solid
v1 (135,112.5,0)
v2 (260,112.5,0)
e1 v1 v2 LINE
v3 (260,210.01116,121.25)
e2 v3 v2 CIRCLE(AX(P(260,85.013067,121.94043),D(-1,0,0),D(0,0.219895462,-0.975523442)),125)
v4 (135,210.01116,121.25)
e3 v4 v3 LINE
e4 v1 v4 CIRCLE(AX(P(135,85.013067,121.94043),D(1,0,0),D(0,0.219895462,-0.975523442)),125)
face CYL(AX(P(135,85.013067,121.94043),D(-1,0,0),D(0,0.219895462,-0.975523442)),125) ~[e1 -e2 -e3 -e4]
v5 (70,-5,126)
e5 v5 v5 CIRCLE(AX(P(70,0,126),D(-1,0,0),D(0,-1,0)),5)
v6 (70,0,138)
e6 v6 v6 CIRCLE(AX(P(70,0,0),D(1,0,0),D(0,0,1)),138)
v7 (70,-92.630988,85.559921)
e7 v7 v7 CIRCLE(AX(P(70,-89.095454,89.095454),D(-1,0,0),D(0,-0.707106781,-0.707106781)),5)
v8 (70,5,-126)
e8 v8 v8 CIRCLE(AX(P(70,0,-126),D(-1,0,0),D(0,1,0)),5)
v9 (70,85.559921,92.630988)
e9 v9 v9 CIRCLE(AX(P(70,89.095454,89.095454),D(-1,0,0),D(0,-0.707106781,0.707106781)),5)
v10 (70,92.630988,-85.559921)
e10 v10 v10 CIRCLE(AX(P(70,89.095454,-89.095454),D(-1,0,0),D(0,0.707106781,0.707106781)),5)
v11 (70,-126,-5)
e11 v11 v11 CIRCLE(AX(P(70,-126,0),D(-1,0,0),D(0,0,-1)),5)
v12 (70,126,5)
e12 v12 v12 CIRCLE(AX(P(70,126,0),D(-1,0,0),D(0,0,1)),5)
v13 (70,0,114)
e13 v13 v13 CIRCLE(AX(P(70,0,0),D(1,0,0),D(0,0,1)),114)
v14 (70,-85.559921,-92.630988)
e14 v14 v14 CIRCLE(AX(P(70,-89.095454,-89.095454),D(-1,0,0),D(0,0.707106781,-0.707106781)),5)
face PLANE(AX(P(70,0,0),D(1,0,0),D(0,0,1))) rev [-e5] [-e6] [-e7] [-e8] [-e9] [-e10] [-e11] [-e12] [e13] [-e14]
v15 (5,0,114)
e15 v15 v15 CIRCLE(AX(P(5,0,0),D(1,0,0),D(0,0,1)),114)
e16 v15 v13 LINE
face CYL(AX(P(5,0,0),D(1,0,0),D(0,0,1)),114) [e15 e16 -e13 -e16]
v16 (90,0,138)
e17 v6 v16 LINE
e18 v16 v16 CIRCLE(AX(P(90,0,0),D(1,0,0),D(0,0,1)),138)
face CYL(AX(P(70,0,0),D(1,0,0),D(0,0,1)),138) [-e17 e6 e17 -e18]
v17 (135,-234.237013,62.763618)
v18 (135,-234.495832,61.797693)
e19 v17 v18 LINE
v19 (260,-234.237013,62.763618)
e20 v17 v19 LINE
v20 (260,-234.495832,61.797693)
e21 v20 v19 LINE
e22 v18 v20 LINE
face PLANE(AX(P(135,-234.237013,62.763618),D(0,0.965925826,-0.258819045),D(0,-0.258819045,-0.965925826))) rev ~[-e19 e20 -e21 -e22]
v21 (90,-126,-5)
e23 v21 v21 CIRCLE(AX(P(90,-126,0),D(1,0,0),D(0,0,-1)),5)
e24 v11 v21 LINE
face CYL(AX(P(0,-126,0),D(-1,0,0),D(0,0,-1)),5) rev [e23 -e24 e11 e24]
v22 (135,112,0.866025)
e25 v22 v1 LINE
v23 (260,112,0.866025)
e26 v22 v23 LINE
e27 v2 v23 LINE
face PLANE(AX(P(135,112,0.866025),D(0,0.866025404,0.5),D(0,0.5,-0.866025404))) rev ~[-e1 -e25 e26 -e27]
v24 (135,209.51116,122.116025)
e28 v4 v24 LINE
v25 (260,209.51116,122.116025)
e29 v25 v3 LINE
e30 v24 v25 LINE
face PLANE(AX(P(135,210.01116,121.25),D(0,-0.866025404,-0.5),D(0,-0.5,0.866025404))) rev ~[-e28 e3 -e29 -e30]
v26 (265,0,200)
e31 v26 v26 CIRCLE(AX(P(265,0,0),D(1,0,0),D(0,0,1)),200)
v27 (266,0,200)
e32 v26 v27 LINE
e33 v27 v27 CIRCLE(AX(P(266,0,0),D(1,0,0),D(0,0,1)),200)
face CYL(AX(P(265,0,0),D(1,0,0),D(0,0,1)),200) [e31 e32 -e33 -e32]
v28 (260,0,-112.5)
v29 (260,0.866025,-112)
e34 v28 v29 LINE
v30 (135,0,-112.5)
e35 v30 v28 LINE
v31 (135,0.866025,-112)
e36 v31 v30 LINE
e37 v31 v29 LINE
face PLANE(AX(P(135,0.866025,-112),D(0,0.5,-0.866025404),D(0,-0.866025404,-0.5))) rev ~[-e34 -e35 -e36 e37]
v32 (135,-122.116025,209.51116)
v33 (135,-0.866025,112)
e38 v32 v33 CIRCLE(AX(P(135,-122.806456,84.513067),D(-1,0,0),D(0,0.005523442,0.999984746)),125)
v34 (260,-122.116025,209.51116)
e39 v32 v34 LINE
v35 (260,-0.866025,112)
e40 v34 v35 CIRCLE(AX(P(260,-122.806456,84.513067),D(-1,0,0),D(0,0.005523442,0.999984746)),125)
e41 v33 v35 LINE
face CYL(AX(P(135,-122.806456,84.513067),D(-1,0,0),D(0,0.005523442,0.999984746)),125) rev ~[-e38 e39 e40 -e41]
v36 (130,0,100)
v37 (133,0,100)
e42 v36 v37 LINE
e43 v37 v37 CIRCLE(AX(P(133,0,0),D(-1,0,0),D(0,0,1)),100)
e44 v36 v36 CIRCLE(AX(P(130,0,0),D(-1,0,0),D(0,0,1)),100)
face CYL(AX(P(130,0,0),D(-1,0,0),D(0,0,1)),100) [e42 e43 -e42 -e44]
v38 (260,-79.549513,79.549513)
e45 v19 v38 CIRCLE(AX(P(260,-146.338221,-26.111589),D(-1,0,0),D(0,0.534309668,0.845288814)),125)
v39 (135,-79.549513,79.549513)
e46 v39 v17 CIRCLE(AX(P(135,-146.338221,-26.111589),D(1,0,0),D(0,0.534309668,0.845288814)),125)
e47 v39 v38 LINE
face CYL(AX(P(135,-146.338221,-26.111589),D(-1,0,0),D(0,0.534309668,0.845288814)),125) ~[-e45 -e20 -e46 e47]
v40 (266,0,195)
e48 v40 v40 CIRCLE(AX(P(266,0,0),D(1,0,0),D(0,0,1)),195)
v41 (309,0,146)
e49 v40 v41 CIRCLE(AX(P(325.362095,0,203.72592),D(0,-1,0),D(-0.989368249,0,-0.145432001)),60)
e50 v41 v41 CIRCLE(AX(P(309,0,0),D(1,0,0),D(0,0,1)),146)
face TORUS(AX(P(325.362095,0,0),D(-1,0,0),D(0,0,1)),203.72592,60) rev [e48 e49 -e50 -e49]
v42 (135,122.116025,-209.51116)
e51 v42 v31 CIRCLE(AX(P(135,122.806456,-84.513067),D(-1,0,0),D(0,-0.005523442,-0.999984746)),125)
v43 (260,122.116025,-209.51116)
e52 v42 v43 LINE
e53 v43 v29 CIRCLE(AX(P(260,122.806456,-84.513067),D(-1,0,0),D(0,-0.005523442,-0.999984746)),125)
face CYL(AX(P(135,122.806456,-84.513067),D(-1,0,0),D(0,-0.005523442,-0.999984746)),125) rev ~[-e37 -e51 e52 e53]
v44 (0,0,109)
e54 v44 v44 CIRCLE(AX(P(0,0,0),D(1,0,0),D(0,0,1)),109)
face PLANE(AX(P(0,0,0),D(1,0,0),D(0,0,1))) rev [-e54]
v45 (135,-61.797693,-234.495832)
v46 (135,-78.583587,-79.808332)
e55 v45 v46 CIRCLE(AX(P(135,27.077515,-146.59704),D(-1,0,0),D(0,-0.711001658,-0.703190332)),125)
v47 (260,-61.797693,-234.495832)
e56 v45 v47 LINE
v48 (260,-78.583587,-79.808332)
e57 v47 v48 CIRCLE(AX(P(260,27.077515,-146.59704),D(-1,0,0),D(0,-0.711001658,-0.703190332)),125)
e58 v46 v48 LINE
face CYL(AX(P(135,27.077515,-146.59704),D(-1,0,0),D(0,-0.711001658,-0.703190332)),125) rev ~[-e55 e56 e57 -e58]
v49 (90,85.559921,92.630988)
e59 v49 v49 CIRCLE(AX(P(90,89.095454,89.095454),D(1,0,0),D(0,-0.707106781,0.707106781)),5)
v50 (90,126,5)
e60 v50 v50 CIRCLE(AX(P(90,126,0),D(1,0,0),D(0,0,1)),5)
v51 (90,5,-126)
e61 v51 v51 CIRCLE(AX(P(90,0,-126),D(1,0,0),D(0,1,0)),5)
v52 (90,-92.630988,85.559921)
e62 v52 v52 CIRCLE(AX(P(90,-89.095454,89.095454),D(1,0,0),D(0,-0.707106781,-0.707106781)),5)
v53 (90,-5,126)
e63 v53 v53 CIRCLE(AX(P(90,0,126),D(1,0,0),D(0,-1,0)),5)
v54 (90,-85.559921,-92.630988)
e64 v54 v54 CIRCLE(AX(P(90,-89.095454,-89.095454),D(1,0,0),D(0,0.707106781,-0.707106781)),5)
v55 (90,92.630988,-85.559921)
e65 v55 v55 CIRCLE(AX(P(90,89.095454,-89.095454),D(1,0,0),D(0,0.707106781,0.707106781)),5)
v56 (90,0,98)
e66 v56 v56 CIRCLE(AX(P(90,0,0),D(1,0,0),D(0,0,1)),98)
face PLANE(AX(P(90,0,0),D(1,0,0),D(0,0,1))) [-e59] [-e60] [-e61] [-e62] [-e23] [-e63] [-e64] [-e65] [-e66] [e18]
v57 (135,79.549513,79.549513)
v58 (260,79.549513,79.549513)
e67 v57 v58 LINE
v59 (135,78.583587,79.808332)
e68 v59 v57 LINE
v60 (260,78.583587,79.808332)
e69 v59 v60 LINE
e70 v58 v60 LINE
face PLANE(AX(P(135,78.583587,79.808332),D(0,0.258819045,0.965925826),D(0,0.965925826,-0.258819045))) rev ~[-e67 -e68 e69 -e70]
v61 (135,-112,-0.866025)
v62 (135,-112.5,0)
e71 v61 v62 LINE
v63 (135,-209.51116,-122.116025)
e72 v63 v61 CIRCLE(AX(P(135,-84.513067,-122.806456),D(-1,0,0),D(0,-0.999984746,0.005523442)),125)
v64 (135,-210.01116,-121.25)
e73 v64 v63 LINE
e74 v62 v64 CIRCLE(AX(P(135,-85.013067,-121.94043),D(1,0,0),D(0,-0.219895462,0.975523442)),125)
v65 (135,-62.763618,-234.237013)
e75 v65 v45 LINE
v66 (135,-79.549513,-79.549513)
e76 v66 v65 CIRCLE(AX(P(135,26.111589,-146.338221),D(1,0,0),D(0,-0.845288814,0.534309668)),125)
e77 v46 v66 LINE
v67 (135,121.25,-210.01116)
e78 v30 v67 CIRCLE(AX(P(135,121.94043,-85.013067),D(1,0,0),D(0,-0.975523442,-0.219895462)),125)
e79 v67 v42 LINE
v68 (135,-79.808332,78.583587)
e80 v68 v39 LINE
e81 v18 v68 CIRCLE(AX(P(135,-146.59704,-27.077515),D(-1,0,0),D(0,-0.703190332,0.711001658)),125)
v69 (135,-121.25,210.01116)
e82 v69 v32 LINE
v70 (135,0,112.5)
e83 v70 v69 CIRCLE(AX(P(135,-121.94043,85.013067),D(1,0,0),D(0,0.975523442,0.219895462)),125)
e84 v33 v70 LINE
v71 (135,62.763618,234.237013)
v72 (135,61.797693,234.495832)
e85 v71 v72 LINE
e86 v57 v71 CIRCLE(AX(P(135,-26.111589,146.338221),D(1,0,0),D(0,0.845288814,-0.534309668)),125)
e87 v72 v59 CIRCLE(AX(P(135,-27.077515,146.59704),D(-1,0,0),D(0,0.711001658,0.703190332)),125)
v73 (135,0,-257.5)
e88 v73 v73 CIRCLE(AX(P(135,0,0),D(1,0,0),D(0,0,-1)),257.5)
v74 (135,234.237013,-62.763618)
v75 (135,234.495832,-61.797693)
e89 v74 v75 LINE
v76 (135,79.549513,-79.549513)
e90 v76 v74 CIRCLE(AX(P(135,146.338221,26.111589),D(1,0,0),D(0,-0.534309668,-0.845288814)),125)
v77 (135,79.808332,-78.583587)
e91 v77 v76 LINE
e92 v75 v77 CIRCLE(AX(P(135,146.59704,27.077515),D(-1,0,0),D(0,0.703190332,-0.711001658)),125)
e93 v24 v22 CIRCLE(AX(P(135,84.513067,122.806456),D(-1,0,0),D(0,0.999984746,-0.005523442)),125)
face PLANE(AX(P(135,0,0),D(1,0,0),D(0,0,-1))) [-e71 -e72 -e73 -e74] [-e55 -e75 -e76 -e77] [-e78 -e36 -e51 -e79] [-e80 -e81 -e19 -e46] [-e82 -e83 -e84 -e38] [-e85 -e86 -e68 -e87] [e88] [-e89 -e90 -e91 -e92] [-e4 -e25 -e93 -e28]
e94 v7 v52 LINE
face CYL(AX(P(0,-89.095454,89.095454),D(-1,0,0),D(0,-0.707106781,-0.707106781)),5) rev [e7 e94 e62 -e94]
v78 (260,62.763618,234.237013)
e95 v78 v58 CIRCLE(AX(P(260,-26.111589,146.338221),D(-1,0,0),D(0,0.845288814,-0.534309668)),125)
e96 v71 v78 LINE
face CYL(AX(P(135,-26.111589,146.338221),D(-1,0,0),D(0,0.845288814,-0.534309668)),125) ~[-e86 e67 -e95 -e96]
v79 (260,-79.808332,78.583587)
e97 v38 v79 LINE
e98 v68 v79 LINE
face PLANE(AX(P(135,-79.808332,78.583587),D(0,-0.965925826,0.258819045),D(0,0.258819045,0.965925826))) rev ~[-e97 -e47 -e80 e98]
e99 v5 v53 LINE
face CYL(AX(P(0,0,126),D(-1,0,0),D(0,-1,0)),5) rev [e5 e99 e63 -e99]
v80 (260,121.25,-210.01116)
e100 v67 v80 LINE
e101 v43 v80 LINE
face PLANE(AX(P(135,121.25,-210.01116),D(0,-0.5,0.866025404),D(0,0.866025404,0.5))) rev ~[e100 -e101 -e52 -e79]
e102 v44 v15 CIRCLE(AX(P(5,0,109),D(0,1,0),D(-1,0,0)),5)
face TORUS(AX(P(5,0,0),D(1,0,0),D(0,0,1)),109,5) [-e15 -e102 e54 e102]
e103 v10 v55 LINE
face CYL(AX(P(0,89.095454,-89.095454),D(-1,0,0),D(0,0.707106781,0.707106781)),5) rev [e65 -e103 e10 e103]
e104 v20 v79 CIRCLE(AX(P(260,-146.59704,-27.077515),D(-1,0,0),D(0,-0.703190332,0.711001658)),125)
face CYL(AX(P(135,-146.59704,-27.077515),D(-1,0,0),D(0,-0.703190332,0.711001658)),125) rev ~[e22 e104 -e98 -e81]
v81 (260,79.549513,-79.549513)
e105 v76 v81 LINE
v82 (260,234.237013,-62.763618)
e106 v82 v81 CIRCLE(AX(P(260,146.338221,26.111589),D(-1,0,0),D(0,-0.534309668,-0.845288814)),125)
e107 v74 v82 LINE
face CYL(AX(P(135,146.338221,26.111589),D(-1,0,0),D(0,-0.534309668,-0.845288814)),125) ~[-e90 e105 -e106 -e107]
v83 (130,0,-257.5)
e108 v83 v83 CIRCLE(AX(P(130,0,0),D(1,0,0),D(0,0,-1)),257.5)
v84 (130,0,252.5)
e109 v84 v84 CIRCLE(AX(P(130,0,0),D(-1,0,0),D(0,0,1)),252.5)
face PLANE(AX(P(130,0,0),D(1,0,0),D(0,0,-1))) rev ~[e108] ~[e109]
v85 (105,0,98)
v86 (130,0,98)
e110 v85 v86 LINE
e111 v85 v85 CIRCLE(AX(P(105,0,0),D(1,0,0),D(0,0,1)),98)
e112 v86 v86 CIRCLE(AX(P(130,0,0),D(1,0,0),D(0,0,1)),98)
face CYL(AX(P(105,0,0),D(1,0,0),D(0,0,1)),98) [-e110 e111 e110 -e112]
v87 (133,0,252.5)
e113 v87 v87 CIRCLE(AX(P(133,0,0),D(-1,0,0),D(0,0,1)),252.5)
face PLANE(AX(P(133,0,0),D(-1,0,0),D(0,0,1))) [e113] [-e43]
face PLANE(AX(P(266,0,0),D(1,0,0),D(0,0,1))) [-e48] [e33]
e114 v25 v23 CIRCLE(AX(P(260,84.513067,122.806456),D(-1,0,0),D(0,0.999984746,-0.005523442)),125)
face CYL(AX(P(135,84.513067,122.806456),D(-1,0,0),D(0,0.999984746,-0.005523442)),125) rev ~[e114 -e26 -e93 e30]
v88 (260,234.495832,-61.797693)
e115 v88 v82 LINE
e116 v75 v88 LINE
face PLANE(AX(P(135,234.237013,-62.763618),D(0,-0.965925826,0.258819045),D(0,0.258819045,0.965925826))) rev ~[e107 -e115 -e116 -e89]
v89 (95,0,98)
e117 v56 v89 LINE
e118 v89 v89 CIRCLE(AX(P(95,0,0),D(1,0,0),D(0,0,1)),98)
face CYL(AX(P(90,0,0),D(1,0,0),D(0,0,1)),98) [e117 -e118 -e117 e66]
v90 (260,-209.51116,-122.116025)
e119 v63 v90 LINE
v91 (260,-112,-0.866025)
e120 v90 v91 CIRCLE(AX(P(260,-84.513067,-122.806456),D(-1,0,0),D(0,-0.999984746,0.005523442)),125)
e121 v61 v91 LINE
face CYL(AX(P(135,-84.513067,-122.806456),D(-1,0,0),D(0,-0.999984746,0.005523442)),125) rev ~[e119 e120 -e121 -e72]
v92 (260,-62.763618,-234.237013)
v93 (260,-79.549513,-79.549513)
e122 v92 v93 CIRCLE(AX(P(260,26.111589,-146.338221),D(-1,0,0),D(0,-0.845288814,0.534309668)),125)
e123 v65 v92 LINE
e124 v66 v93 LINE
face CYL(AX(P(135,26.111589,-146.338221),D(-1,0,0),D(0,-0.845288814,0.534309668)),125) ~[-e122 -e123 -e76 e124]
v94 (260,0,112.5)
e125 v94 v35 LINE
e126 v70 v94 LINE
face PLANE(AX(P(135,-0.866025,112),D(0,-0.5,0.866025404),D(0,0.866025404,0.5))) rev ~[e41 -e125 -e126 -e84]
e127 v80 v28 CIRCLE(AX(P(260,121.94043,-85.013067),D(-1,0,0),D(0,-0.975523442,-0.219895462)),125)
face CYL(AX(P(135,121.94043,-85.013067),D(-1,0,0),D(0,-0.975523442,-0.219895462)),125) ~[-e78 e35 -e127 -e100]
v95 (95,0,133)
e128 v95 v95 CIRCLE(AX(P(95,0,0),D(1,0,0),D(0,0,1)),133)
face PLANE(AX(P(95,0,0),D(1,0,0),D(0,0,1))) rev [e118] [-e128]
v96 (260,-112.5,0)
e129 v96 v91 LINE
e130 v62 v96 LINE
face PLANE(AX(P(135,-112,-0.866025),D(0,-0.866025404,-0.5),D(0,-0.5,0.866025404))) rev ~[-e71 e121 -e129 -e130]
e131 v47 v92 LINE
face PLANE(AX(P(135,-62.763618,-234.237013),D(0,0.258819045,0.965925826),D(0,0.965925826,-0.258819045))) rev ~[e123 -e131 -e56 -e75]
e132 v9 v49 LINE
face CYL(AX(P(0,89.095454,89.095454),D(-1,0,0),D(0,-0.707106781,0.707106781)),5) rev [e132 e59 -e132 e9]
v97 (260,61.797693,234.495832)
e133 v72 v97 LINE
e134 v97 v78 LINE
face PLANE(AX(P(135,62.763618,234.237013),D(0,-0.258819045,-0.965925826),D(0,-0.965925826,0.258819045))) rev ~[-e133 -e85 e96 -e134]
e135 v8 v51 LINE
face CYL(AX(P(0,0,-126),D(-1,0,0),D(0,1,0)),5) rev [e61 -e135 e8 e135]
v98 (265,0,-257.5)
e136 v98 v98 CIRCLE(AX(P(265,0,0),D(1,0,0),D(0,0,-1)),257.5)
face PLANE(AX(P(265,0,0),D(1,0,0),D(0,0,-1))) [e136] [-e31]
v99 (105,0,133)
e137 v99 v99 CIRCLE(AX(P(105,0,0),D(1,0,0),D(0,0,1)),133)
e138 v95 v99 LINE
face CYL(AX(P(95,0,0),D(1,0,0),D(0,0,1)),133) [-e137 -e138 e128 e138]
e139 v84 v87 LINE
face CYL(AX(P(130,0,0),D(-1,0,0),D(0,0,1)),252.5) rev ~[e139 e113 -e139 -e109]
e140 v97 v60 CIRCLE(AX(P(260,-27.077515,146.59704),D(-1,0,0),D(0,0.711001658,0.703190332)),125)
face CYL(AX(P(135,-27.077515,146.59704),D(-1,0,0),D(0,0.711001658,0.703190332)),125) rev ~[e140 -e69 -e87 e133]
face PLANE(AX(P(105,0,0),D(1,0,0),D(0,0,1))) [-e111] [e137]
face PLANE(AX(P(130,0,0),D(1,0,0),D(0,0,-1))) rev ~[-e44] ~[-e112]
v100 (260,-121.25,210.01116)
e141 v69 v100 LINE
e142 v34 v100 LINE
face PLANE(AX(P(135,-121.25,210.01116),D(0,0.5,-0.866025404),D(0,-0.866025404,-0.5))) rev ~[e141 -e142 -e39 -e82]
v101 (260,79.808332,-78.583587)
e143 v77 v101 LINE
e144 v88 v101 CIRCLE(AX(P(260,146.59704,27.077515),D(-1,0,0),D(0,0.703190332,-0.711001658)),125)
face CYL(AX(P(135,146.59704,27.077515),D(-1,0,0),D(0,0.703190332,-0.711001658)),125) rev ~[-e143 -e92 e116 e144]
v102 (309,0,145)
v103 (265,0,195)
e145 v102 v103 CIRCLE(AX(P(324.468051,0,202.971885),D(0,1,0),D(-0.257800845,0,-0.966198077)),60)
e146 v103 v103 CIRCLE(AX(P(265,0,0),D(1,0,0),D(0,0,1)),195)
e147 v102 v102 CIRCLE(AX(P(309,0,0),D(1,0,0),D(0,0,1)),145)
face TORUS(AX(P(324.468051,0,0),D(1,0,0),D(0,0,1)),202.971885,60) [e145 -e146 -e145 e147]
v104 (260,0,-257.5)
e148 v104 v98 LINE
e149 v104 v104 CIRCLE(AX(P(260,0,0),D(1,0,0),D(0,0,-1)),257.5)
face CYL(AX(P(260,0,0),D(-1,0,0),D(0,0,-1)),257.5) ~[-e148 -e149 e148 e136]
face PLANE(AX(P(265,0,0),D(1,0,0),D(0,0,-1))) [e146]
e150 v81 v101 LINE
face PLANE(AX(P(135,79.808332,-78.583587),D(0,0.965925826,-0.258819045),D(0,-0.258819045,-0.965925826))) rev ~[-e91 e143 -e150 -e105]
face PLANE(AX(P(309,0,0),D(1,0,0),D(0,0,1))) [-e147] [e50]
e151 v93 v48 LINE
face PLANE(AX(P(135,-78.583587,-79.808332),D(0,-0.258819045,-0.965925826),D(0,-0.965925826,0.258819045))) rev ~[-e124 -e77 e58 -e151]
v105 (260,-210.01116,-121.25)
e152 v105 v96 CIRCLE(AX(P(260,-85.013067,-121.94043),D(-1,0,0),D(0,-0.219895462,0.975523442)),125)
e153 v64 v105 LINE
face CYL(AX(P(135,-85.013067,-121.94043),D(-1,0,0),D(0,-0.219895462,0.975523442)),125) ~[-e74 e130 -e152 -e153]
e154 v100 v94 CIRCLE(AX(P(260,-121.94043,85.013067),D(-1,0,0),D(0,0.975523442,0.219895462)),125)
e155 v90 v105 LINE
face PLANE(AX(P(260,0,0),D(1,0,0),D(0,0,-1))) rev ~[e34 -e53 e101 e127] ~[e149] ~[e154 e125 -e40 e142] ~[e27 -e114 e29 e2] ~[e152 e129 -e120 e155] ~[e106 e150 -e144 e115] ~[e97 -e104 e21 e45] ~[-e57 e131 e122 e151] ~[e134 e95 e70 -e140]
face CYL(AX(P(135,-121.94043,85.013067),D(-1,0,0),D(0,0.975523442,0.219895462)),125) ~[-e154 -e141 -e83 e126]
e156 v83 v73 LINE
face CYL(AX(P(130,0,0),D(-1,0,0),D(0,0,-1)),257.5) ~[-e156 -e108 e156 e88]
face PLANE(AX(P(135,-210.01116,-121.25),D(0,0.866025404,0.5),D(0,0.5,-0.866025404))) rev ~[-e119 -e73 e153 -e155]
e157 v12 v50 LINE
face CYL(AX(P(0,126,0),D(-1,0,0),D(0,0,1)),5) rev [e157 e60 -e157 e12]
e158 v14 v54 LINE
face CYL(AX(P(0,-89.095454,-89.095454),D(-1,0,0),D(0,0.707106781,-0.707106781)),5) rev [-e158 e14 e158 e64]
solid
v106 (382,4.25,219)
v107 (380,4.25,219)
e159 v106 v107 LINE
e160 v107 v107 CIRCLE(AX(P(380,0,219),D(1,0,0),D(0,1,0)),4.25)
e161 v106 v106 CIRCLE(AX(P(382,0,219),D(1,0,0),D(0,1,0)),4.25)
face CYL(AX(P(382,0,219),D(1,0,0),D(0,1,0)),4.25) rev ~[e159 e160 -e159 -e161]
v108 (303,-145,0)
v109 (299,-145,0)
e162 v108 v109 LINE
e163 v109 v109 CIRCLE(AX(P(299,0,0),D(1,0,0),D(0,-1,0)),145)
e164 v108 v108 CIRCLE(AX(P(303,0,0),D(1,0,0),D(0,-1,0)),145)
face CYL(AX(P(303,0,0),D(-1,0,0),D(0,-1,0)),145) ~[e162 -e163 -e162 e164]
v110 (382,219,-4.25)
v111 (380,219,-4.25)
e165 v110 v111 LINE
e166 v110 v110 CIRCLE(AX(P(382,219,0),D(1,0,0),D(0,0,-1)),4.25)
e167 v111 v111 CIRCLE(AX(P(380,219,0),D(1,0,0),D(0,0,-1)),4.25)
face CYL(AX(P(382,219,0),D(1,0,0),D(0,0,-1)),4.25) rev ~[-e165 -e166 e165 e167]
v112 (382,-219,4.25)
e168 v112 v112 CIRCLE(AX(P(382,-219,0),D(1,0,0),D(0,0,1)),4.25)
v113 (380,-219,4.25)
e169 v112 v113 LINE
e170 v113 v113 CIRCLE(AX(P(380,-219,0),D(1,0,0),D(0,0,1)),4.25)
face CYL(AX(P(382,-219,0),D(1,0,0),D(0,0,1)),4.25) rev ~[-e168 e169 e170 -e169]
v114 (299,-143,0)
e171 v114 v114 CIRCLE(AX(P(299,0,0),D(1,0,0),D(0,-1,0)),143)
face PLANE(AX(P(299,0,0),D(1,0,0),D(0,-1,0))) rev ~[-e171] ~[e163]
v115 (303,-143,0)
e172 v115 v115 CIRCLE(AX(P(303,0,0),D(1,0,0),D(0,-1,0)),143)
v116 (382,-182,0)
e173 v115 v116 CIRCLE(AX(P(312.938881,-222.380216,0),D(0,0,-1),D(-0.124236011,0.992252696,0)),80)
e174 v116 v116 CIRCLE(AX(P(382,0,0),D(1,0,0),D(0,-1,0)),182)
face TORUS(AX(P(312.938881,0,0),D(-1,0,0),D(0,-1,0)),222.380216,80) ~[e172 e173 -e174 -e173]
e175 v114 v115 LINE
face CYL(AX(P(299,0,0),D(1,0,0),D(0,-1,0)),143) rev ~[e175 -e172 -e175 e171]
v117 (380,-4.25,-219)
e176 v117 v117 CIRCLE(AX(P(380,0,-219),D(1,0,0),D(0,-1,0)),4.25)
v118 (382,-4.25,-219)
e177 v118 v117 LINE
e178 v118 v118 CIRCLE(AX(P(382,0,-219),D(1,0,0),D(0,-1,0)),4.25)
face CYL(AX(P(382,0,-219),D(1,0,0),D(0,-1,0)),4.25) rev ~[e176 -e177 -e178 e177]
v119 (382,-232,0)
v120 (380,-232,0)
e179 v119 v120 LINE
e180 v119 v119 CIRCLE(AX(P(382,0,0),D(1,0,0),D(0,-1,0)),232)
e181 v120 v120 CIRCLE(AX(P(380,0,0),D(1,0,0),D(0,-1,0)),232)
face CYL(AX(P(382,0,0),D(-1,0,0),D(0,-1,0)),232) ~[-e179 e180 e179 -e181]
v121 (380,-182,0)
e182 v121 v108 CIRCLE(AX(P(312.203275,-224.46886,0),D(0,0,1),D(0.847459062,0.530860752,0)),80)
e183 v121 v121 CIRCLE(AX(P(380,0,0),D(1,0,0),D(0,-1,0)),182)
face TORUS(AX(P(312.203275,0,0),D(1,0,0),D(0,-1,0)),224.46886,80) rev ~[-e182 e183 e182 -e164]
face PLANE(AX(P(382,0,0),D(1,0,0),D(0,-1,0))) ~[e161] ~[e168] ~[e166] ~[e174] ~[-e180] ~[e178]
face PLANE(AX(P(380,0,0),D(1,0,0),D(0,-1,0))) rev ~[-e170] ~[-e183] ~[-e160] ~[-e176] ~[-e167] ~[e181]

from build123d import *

# Parameters (mm, degrees)
SKETCH2_R         = 257.5
EXTRUDE1_DEPTH    = 5
SKETCH9_R         = 252.5
SKETCH9_R_2       = 100
EXTRUDE7_DEPTH    = 3
SKETCH3_R         = 257.5
EXTRUDE2_DEPTH    = 5
EXTRUDE3_DEPTH    = 130
CIRPATTERN1_COUNT = 8
SKETCH7_R         = 4.25
EXTRUDE5_DEPTH    = 5
CIRPATTERN2_COUNT = 4
SKETCH8_R         = 5
EXTRUDE6_DEPTH    = 90
CIRPATTERN3_COUNT = 8


with BuildPart() as part:
    # Sketch1 → Revolve1 (revolve)
    with BuildSketch(Plane.XY, mode=Mode.PRIVATE) as revolve1_sk:
        with BuildLine():
            Line((0, 0), (0, 109))
            ThreePointArc((0, 109), (1.464466094, 112.535533906), (5, 114))
            Line((5, 114), (70, 114))
            Line((70, 114), (70, 138))
            Line((70, 138), (90, 138))
            Line((90, 138), (90, 98))
            Line((90, 98), (95, 98))
            Line((95, 98), (95, 133))
            Line((95, 133), (105, 133))
            Line((105, 133), (105, 98))
            Line((105, 98), (130, 98))
            Line((130, 98), (130, 0))
            Line((130, 0), (0, 0))
        make_face()
    revolve(revolve1_sk.sketch.rotate(Axis((0, 0, 0), (1, 0, 0)), 90), axis=Axis((0, 0, 0), (1, 0, 0)))

    # Sketch2 → Extrude1 (add)
    with BuildSketch(Plane(origin=(130, 0, 0), x_dir=(0, 0, -1), z_dir=(1, 0, 0))):
        Circle(SKETCH2_R)
    extrude(amount=EXTRUDE1_DEPTH)

    # Sketch9 → Extrude7 (cut)
    with BuildSketch(Plane.ZY.offset(-130)):
        Circle(SKETCH9_R)
        Circle(SKETCH9_R_2, mode=Mode.SUBTRACT)
    extrude(amount=-EXTRUDE7_DEPTH, mode=Mode.SUBTRACT)



with BuildPart() as body_2:
    # Sketch3 → Extrude2 (new body)
    with BuildSketch(Plane(origin=(260, 0, 0), x_dir=(0, 0, -1), z_dir=(1, 0, 0))):
        Circle(SKETCH3_R)
    extrude(amount=EXTRUDE2_DEPTH)


with BuildPart() as part_1:
    add(part.part)

    add(body_2.part)  # Extrude3 merges body 2
    # Sketch4 → Extrude3 (add)
    with BuildSketch(Plane(origin=(135, 0, 0), x_dir=(0, 0, -1), z_dir=(1, 0, 0))):
        with BuildLine():
            Line((-121.25, 210.011160418), (-122.116025404, 209.511160418))
            ThreePointArc((-122.116025404, 209.511160418), (-44.469436379, 181.921031018), (-0.866025404, 112))
            Line((-0.866025404, 112), (0, 112.5))
            ThreePointArc((0, 112.5), (-43.603410976, 182.421031018), (-121.25, 210.011160418))
        make_face()
    extrude3 = extrude(amount=EXTRUDE3_DEPTH)

    # CirPattern1: Extrude3 ×8 about axis
    cirpattern1_axis = Axis((0, 0, 0), (1, 0, 0))
    for i in range(1, CIRPATTERN1_COUNT):
        add(extrude3.rotate(cirpattern1_axis, i * 360 / CIRPATTERN1_COUNT))

    # Sketch5 → Revolve2 (revolve)
    with BuildSketch(Plane.XY, mode=Mode.PRIVATE) as revolve2_sk:
        with BuildLine():
            Line((265, 200), (266, 200))
            Line((266, 200), (266, 195))
            ThreePointArc((266, 195), (280.264553623, 164.150526649), (309, 146))
            Line((309, 146), (309, 145))
            ThreePointArc((309, 145), (279.425239697, 163.334210933), (265, 195))
            Line((265, 195), (265, 200))
        make_face()
    revolve(revolve2_sk.sketch.rotate(Axis((0, 0, 0), (1, 0, 0)), 90), axis=Axis((0, 0, 0), (1, 0, 0)))

    # Sketch8 → Extrude6 (cut)
    with BuildSketch(Plane(origin=(0, 0, 0), x_dir=(0, 0, -1), z_dir=(1, 0, 0))):
        with Locations(Location((0, 126, 0), (0, 0, 180))):
            Circle(SKETCH8_R)
    extrude6 = extrude(amount=EXTRUDE6_DEPTH, mode=Mode.SUBTRACT)

    # CirPattern3: Extrude6 ×8 about axis
    cirpattern3_axis = Axis((0, 0, 0), (1, 0, 0))
    for i in range(1, CIRPATTERN3_COUNT):
        add(extrude6.rotate(cirpattern3_axis, i * 360 / CIRPATTERN3_COUNT), mode=Mode.SUBTRACT)


with BuildPart() as body_2_2:
    # Sketch6 → Revolve3 (revolve)
    with BuildSketch(Plane.XY, mode=Mode.PRIVATE) as revolve3_sk:
        with BuildLine():
            Line((382, 232), (380, 232))
            Line((380, 232), (380, 182))
            ThreePointArc((380, 182), (346.85220133, 152.361635071), (303, 145))
            Line((303, 145), (299, 145))
            Line((299, 145), (299, 143))
            Line((299, 143), (303, 143))
            ThreePointArc((303, 143), (348.352293074, 150.645355054), (382, 182))
            Line((382, 182), (382, 232))
        make_face()
    revolve(revolve3_sk.sketch.rotate(Axis((0, 0, 0), (1, 0, 0)), 180), axis=Axis((0, 0, 0), (1, 0, 0)))

    # Sketch7 → Extrude5 (cut)
    with BuildSketch(Plane(origin=(382, 0, 0), x_dir=(0, 0, -1), z_dir=(1, 0, 0))):
        with Locations((0, 219)):
            Circle(SKETCH7_R)
    extrude5 = extrude(amount=-EXTRUDE5_DEPTH, mode=Mode.SUBTRACT)

    # CirPattern2: Extrude5 ×4 about axis
    cirpattern2_axis = Axis((0, 0, 0), (1, 0, 0))
    for i in range(1, CIRPATTERN2_COUNT):
        add(extrude5.rotate(cirpattern2_axis, i * 360 / CIRPATTERN2_COUNT), mode=Mode.SUBTRACT)


solid = Compound([part_1.part, body_2_2.part])
